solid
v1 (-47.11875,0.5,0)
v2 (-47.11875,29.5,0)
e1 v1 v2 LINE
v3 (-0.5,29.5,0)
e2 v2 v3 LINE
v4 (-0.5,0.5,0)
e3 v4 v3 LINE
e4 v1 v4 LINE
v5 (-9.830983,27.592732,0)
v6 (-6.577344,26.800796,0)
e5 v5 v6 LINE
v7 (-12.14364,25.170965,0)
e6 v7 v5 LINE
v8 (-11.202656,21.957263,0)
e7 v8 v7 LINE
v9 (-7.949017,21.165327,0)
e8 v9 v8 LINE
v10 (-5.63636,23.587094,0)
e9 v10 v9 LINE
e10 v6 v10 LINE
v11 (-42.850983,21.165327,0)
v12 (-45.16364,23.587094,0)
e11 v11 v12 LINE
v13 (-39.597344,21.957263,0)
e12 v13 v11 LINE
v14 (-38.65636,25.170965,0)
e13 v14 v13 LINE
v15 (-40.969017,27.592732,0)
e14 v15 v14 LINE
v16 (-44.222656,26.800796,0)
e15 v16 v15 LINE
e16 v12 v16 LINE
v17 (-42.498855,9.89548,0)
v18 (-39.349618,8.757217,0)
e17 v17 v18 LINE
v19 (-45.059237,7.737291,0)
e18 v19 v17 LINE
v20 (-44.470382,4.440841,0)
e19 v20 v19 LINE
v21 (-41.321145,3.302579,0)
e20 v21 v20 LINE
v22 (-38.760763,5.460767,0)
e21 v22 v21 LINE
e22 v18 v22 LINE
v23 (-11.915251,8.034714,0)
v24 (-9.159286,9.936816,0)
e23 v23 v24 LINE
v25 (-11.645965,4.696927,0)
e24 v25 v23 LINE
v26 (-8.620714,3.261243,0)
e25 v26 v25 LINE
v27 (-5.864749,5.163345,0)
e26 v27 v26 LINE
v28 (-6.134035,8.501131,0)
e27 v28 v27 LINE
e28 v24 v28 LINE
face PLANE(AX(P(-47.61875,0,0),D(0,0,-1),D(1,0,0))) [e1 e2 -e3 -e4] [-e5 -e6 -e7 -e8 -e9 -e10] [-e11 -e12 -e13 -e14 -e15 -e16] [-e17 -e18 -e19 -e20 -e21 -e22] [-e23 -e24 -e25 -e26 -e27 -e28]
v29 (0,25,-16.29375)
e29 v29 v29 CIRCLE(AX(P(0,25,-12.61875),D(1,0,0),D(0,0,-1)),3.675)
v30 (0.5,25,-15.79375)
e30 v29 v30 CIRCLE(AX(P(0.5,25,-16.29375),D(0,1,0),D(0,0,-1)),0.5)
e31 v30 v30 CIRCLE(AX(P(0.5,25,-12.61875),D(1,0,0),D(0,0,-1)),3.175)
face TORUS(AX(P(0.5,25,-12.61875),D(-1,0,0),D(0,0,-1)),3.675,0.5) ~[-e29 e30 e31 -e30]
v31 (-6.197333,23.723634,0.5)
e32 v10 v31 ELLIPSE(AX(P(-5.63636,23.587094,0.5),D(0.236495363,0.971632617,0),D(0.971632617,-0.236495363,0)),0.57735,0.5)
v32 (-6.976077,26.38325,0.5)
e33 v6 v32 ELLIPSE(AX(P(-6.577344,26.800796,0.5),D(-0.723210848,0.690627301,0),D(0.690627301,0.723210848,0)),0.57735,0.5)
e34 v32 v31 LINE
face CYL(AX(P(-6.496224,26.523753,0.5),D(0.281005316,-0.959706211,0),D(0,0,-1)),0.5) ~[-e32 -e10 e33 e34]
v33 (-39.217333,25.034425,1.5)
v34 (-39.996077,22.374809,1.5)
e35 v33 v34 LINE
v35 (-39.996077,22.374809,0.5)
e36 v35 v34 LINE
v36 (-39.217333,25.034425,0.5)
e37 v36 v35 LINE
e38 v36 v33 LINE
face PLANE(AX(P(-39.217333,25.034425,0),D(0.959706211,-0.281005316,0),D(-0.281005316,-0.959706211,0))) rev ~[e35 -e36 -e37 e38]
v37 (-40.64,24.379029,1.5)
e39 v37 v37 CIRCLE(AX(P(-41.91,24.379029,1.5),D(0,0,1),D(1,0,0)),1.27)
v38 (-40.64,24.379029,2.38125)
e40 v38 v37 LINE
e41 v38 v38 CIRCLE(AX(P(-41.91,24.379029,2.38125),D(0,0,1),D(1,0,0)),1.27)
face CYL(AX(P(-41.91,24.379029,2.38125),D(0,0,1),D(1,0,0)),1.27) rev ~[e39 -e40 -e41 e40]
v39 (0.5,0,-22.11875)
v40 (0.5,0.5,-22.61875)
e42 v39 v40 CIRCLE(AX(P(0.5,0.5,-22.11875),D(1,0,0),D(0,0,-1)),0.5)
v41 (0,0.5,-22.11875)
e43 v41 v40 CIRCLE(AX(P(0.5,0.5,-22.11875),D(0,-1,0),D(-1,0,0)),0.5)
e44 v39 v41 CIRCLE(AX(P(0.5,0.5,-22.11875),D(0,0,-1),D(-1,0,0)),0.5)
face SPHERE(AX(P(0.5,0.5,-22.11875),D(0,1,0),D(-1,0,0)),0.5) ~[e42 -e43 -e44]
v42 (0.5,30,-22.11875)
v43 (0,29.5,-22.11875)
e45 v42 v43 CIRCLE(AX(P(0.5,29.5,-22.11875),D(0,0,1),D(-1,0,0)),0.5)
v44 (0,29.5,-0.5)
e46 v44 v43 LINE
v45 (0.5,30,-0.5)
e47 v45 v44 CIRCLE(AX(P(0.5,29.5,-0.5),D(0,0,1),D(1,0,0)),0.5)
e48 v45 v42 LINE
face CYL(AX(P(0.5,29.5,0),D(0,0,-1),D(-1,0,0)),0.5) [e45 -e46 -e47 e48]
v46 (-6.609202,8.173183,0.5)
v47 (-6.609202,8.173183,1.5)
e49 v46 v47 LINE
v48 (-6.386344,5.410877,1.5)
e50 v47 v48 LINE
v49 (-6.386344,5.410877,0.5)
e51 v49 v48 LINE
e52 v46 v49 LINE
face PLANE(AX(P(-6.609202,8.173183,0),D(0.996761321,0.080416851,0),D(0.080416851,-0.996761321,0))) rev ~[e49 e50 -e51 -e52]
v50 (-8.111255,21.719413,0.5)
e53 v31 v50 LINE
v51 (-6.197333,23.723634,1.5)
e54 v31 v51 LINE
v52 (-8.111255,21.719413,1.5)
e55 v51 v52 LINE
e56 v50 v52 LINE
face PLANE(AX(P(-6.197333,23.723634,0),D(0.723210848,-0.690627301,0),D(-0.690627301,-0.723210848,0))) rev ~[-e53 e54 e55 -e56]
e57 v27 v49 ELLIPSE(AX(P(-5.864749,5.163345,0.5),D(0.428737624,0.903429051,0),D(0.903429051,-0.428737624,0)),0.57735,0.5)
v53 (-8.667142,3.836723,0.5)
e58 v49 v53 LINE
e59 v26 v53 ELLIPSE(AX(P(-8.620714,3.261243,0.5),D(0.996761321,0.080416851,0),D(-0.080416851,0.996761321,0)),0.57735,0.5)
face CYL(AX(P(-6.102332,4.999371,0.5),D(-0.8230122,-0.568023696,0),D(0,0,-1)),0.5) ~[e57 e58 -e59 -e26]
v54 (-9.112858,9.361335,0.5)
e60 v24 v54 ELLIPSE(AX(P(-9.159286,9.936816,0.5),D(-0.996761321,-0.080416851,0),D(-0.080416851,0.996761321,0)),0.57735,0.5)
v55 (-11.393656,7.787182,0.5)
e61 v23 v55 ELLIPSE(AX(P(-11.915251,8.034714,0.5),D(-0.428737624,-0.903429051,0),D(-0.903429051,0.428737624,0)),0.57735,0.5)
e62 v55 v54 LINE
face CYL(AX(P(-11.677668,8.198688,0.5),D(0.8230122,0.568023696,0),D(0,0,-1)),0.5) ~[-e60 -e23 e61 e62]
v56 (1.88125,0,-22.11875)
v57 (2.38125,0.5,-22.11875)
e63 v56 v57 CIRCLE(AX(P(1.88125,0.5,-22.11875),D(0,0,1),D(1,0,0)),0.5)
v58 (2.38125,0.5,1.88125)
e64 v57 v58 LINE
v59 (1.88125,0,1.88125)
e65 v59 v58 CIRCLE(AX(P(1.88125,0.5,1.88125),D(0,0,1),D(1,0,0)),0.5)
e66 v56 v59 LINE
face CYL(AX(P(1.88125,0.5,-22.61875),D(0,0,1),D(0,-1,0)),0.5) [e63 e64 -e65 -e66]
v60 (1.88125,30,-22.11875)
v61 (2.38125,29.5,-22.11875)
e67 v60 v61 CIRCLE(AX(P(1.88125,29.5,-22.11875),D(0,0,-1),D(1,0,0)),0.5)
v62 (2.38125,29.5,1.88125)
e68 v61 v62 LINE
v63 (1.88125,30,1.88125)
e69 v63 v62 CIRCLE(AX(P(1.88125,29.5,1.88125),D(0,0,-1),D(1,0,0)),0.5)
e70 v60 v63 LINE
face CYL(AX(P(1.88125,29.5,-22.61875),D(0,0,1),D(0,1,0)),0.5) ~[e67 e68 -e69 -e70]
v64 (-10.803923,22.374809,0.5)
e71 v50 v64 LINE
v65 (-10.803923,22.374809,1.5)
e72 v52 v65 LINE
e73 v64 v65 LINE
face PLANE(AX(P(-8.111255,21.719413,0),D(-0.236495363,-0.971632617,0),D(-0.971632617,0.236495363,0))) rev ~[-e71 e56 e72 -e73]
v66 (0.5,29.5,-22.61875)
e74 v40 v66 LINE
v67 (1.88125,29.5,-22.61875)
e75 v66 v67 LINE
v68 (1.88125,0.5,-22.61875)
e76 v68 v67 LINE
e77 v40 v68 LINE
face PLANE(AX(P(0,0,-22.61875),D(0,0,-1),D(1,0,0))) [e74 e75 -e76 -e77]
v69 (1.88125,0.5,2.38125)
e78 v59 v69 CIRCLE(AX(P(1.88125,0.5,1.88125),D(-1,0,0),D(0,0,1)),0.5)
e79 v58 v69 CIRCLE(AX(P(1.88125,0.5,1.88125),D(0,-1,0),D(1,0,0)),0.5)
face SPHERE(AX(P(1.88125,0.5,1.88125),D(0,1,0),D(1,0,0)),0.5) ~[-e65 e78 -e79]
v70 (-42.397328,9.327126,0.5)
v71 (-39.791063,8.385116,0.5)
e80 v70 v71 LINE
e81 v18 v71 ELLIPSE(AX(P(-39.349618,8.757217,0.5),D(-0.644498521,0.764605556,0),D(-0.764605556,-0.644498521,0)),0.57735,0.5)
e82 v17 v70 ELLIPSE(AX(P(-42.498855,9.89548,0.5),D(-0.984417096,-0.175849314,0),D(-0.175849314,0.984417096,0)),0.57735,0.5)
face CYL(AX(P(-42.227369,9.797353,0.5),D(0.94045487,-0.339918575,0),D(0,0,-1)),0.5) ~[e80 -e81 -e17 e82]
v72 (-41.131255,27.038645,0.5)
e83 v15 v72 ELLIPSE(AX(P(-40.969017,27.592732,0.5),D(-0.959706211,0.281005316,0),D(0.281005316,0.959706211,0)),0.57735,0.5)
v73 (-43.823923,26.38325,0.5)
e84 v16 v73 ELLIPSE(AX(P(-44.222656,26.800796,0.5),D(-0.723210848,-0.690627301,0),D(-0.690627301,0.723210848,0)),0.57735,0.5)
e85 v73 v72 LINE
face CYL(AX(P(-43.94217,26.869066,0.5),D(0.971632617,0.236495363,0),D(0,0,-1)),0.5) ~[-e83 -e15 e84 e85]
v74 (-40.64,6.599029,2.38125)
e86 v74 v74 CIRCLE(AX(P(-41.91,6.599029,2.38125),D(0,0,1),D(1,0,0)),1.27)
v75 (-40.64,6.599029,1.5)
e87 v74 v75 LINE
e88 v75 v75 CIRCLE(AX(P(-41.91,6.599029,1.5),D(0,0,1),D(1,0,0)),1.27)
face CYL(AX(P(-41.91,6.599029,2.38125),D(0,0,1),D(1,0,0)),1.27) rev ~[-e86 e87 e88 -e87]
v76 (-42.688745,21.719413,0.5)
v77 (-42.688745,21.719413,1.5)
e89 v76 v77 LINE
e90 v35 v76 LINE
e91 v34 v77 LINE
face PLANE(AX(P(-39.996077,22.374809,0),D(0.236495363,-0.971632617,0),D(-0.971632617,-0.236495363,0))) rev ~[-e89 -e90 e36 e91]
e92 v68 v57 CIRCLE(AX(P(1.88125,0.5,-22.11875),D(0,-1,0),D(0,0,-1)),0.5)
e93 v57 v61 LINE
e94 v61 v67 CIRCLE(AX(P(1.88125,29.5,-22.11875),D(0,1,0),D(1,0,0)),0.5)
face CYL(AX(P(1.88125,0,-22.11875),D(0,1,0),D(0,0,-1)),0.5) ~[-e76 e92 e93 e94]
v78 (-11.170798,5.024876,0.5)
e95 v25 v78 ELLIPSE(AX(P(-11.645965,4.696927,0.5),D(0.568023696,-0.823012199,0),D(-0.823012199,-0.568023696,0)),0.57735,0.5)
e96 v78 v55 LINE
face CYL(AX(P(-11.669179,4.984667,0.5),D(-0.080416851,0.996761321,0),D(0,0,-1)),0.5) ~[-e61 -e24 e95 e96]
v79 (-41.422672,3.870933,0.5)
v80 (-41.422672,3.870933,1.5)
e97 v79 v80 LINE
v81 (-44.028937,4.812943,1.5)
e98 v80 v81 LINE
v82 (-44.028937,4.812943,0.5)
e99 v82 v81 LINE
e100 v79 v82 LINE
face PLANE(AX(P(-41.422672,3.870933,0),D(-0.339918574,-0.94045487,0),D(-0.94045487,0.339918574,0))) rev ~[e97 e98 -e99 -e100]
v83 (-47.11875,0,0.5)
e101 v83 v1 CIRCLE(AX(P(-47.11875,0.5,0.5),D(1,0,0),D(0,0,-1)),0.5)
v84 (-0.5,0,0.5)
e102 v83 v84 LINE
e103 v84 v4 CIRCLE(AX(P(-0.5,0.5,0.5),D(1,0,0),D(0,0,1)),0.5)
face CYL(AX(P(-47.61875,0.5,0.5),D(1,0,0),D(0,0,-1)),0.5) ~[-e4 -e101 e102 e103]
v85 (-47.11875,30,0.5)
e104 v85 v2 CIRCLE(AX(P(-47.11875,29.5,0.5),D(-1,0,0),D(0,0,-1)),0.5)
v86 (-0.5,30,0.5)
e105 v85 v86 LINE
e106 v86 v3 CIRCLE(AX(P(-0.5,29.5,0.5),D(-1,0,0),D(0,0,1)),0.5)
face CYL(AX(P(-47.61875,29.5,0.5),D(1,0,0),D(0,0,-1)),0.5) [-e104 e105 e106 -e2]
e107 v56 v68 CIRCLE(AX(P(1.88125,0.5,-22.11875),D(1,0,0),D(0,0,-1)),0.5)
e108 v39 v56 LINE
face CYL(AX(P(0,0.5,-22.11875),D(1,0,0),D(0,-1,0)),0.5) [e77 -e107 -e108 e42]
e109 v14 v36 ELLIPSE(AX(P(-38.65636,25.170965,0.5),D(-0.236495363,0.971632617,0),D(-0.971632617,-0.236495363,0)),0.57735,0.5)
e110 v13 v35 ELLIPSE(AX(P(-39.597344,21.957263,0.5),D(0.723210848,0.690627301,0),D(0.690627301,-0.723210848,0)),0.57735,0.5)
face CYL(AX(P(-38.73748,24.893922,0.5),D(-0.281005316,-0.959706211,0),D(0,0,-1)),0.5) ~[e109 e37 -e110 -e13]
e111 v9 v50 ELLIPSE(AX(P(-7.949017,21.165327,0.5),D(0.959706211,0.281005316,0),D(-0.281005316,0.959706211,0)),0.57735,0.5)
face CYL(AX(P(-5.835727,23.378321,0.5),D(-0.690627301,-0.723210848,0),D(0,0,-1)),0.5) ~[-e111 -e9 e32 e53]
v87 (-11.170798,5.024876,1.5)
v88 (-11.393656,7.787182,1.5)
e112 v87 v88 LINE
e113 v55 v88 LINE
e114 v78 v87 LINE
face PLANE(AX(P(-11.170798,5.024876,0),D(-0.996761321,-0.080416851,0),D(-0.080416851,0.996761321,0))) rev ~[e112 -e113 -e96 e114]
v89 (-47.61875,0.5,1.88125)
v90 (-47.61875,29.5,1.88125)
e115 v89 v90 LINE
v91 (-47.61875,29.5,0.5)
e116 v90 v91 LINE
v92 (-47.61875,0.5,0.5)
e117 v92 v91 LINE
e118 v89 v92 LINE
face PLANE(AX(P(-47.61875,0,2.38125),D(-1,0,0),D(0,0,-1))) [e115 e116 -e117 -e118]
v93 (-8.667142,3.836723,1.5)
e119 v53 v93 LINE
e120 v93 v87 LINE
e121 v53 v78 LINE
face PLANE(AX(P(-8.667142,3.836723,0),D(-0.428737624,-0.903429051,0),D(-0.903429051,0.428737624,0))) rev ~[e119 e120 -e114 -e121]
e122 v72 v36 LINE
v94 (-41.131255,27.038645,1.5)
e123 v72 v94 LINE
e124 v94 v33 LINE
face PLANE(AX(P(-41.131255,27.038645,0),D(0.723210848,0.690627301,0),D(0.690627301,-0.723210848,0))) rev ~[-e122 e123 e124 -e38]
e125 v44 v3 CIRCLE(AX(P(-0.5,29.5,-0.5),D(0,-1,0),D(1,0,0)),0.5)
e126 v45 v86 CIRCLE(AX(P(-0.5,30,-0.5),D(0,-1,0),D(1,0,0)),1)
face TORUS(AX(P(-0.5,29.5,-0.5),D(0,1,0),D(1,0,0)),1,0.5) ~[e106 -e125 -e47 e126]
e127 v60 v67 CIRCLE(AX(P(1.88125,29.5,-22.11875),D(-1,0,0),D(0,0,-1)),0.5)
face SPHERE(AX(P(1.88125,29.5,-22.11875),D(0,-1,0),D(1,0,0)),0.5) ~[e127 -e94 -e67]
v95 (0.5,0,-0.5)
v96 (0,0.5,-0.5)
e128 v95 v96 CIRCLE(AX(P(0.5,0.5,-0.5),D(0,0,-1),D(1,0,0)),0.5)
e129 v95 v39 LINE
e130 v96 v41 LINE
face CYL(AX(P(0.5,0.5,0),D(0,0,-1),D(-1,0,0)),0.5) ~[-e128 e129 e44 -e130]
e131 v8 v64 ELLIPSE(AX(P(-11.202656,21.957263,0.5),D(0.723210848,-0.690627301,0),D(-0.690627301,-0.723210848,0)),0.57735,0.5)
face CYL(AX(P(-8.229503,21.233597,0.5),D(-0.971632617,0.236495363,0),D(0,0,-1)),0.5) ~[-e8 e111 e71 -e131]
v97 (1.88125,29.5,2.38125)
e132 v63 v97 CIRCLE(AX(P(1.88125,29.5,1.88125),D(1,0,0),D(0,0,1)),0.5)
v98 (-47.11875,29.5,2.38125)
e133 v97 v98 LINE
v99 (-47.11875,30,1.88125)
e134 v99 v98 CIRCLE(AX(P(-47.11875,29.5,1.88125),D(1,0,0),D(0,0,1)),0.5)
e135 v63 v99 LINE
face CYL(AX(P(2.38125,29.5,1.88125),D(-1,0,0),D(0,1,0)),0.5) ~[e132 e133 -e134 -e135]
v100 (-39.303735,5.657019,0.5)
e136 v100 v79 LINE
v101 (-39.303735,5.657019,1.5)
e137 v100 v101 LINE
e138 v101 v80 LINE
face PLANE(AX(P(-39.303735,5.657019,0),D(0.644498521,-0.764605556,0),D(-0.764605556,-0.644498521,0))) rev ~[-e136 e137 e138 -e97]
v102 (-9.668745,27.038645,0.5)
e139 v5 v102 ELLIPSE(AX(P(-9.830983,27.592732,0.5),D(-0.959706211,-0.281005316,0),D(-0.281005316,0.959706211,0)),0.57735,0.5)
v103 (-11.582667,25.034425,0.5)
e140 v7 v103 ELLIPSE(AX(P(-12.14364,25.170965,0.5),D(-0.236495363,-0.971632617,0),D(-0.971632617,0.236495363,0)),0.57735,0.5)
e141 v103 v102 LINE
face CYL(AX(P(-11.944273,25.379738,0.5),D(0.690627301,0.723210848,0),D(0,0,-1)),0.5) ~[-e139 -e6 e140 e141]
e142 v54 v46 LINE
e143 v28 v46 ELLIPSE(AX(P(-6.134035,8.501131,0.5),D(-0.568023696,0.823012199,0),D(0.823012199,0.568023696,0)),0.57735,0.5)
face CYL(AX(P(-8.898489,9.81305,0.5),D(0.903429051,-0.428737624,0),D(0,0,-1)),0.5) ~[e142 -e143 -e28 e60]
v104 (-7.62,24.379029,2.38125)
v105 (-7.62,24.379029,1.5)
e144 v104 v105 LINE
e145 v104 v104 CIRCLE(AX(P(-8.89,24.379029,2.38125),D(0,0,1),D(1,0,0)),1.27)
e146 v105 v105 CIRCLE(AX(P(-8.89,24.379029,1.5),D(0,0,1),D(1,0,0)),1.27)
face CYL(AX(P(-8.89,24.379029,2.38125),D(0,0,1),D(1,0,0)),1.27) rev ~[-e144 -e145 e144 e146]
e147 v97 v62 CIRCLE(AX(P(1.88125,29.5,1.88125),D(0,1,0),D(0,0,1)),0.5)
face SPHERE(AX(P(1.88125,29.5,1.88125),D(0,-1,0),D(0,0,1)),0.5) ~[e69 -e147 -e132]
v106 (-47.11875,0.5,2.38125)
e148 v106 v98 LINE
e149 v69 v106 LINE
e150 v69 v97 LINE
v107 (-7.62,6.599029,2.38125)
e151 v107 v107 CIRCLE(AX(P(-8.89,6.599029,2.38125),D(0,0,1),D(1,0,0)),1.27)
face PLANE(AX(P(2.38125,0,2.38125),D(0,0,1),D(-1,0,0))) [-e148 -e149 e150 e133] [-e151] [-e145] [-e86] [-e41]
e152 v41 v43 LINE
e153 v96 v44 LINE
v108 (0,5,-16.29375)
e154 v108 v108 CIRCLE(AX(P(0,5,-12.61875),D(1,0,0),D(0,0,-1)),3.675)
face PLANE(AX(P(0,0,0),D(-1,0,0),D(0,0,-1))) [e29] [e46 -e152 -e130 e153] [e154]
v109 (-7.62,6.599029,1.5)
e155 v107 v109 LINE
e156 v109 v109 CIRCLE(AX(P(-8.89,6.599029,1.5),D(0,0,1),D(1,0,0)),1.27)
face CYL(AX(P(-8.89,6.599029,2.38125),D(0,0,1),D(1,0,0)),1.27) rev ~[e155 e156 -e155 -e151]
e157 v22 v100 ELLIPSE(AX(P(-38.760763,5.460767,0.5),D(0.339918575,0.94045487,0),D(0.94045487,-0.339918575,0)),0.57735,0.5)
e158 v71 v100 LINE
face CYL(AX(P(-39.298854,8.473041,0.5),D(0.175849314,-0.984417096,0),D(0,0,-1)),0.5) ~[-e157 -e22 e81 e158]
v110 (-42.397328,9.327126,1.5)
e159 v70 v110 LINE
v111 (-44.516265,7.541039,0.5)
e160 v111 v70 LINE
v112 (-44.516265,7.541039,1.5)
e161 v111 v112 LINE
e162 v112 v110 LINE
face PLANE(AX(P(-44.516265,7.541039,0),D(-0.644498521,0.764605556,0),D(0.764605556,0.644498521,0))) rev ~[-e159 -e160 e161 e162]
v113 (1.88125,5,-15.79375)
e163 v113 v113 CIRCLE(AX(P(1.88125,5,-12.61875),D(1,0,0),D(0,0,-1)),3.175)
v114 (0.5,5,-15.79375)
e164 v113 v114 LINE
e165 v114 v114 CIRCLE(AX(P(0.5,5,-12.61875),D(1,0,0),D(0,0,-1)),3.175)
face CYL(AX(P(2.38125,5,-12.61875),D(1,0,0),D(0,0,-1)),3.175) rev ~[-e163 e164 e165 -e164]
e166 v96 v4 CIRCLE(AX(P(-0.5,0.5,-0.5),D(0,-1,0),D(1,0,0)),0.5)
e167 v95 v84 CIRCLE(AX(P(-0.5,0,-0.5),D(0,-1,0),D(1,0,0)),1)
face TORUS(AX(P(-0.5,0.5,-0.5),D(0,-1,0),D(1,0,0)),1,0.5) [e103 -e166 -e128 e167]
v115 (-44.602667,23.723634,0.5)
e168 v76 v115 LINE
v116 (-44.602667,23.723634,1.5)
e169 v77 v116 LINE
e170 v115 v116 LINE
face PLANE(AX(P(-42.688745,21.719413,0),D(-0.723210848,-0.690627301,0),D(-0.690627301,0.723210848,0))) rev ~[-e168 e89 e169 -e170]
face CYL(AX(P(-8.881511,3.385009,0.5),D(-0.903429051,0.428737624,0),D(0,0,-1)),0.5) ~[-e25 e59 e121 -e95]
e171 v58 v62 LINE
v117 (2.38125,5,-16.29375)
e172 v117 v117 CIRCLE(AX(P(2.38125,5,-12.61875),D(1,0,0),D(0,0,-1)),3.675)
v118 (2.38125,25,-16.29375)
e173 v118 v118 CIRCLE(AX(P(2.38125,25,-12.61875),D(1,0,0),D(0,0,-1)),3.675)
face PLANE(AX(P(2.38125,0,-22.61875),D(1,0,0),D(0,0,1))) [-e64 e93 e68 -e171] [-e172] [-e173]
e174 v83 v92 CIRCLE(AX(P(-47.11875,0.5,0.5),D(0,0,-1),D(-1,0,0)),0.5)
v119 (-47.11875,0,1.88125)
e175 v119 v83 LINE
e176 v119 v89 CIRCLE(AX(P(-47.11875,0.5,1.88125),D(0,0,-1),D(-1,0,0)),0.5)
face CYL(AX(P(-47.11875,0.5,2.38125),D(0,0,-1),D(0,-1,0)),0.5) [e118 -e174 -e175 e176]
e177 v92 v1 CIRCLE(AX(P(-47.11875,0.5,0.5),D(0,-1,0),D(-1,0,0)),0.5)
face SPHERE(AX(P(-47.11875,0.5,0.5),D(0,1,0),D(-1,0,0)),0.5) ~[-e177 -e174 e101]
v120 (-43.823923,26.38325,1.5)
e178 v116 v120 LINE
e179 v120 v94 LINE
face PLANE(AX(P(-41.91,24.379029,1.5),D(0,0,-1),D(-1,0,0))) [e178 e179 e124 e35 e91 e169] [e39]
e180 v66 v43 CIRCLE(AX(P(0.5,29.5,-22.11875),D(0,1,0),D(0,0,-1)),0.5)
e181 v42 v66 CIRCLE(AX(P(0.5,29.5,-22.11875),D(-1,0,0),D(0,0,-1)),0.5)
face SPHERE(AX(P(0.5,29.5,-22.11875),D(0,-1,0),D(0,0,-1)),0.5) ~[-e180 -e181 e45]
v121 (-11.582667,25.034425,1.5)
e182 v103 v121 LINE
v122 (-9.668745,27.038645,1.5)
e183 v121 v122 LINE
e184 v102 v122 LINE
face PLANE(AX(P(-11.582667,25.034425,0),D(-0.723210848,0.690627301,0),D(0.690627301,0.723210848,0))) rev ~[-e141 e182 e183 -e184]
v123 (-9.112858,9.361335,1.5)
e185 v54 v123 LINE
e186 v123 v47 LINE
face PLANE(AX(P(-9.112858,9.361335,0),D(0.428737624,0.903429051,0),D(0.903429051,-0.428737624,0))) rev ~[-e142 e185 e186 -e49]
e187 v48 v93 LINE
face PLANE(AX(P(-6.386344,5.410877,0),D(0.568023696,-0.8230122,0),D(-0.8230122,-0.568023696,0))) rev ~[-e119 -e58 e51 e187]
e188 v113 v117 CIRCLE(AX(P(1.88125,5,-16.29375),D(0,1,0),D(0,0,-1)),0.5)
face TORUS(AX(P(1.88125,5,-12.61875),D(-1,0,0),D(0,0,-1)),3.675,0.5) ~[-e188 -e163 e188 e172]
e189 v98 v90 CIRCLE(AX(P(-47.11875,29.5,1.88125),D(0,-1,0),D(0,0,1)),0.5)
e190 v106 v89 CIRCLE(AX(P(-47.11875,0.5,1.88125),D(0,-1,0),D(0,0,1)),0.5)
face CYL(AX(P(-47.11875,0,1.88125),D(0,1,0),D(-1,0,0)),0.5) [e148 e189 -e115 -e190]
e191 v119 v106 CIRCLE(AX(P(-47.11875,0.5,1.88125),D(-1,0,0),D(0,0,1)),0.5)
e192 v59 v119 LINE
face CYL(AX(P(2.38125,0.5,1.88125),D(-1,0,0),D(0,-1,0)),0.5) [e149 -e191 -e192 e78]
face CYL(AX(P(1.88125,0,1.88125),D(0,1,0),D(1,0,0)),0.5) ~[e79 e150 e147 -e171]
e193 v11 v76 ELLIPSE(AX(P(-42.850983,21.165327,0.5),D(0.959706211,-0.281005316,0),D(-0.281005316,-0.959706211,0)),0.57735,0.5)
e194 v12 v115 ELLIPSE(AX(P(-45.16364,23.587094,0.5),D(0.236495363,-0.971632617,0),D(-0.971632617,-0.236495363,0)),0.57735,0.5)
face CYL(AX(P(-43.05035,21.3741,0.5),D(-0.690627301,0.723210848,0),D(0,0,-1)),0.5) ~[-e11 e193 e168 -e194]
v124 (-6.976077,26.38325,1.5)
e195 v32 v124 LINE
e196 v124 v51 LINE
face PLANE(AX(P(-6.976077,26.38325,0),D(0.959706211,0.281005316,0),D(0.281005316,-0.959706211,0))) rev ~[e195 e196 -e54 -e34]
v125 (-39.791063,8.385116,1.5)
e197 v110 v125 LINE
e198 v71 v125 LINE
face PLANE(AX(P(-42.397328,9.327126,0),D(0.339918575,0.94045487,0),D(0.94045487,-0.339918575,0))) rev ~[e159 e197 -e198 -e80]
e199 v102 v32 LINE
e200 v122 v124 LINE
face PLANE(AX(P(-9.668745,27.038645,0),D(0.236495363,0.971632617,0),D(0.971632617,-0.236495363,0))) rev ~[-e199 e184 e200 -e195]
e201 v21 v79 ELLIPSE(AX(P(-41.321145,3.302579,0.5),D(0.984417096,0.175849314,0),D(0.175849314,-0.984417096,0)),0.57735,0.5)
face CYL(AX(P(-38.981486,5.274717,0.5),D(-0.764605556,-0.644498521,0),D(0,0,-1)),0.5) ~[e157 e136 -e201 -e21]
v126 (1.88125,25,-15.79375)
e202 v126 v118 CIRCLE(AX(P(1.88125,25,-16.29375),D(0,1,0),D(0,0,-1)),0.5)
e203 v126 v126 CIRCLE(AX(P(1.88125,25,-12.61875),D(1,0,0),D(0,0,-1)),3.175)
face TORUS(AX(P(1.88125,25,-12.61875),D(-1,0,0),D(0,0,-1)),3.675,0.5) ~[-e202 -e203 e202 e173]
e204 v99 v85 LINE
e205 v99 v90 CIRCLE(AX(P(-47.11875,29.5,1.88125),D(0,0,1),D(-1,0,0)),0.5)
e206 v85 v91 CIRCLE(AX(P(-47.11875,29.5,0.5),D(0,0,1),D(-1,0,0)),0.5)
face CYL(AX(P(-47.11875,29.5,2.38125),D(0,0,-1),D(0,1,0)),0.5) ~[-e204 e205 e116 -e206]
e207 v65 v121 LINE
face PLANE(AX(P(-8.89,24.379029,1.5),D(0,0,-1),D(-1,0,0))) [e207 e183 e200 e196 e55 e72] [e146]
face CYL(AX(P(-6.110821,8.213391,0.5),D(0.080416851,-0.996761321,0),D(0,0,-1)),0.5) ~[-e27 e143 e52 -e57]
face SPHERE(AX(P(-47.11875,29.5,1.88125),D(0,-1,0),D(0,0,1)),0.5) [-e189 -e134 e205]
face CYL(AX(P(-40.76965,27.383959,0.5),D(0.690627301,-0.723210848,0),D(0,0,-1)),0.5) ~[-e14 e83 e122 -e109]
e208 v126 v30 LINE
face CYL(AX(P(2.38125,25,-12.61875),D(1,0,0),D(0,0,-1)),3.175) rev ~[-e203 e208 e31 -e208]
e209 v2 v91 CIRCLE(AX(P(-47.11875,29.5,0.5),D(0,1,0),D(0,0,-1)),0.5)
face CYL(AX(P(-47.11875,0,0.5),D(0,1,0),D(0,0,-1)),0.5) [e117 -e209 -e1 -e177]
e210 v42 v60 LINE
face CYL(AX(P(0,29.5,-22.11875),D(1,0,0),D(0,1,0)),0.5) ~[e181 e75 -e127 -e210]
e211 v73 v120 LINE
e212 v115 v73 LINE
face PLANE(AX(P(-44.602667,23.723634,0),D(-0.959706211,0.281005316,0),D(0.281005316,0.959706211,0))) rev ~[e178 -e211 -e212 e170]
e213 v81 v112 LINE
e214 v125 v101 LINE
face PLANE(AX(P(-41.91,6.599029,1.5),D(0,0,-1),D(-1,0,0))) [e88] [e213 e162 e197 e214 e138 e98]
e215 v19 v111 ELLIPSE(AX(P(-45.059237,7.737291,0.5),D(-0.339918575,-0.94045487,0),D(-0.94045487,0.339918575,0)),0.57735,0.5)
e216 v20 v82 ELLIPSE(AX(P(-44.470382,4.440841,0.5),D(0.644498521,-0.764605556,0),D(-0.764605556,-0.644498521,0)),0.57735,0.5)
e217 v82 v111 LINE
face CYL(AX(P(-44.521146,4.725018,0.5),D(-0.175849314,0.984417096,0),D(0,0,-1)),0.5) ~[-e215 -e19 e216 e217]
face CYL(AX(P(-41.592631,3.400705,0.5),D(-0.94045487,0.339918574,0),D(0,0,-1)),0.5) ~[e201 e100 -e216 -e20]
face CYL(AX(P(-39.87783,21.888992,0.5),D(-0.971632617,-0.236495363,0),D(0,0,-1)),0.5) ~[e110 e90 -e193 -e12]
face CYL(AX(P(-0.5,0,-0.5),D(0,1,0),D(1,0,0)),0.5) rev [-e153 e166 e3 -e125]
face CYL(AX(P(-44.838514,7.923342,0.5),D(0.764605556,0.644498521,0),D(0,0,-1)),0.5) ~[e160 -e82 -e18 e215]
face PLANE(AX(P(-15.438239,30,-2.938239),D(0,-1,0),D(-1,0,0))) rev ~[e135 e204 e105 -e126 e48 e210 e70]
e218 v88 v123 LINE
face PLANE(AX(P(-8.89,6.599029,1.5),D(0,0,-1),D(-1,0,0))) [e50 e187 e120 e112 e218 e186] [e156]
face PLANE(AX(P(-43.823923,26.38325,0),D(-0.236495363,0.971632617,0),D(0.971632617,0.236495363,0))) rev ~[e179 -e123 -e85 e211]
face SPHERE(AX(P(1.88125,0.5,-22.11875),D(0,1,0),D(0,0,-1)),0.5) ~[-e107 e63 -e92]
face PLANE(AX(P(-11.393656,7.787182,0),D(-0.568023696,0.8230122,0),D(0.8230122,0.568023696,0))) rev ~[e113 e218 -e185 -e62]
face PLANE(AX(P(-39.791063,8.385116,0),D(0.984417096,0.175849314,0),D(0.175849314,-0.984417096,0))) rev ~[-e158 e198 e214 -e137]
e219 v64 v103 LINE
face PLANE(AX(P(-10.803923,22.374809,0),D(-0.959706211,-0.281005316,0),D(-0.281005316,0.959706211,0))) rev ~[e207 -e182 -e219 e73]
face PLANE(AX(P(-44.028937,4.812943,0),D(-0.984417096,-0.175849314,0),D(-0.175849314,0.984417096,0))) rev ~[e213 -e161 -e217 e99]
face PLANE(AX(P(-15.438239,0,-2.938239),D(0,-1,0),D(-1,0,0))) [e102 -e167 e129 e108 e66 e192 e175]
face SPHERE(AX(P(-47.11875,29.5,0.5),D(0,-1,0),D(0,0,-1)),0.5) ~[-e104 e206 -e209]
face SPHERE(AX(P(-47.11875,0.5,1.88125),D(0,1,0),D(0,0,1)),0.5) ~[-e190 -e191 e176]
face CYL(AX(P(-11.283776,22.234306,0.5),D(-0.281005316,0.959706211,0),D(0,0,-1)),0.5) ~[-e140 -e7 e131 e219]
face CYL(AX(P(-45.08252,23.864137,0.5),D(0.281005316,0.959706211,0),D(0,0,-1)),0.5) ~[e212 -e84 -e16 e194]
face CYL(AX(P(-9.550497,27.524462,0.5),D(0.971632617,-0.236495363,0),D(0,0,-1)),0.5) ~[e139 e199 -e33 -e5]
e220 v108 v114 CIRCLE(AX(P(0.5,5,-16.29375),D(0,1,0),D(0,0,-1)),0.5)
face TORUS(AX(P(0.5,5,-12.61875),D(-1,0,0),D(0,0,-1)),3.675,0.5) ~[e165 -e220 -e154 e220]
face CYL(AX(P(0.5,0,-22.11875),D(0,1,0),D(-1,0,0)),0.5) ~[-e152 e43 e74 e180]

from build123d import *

# Parameters (mm, degrees)
BOSS_EXTRUDE1_DEPTH = 30
SKETCH2_R           = 1.27
CUT_EXTRUDE1_DEPTH  = 62.583645163
SKETCH3_R           = 3.175
CUT_EXTRUDE2_DEPTH  = 63.542848125
FILLET1_R           = 0.5
CUT_EXTRUDE3_DEPTH  = 1.5
FILLET2_R           = 0.5


with BuildPart() as part:
    # Sketch1 → Boss-Extrude1 (new body)
    with BuildSketch(Plane(origin=(0, 0, 0), x_dir=(1, 0, 0), z_dir=(0, 1, 0))):
        Polygon((0, 0), (0, 22.61875), (2.38125, 22.61875), (2.38125, -2.38125), (-47.61875, -2.38125), (-47.61875, 0), align=None)
    extrude(amount=BOSS_EXTRUDE1_DEPTH)

    # Sketch2 → Cut-Extrude1 (cut, through all)
    with BuildSketch(Plane.XY.offset(2.38125)):
        with Locations((-41.91, 6.599029345)):
            Circle(SKETCH2_R)
        with Locations((-8.89, 6.599029345)):
            Circle(SKETCH2_R)
        with Locations((-8.89, 24.379029345)):
            Circle(SKETCH2_R)
        with Locations((-41.91, 24.379029345)):
            Circle(SKETCH2_R)
    extrude(amount=-CUT_EXTRUDE1_DEPTH, mode=Mode.SUBTRACT)

    # Sketch3 → Cut-Extrude2 (cut, through all)
    with BuildSketch(Plane(origin=(2.38125, 0, 0), x_dir=(0, 0, -1), z_dir=(1, 0, 0))):
        with Locations((12.61875, 25)):
            Circle(SKETCH3_R)
        with Locations((12.61875, 5)):
            Circle(SKETCH3_R)
    extrude(amount=-CUT_EXTRUDE2_DEPTH, mode=Mode.SUBTRACT)

    # Fillet1
    fillet1_edges = [part.edges().sort_by_distance(p)[0] for p in [
        (0, 15, 0),
        (0, 15, -22.61875),
        (2.38125, 15, -22.61875),
        (2.38125, 15, 2.38125),
        (-47.61875, 15, 2.38125),
        (-47.61875, 15, 0),
        (-22.61875, 30, 2.38125),
        (2.38125, 30, -10.11875),
        (1.190625, 30, -22.61875),
        (-43.18, 24.379029345, 0),
        (0, 30, -11.309375),
        (-10.16, 24.379029345, 0),
        (-10.16, 6.599029345, 0),
        (-43.18, 6.599029345, 0),
        (0, 25, -9.44375),
        (2.38125, 25, -9.44375),
        (0, 5, -9.44375),
        (2.38125, 5, -9.44375),
        (-23.809375, 30, 0),
        (0, 0, -11.309375),
        (1.190625, 0, -22.61875),
        (2.38125, 0, -10.11875),
        (-22.61875, 0, 2.38125),
        (-47.61875, 0, 1.190625),
        (-23.809375, 0, 0),
        (-47.61875, 30, 1.190625),
    ]]
    fillet(fillet1_edges, radius=FILLET1_R)

    # Sketch5 → Cut-Extrude3 (cut)
    with BuildSketch(Plane(origin=(0, 0, 0), x_dir=(-1, 0, 0), z_dir=(0, 0, -1))):
        Polygon((10.803922519, 22.374808651), (11.582667295, 25.03442452), (9.668744776, 27.038645215), (6.976077481, 26.383250039), (6.197332705, 23.72363417), (8.111255224, 21.719413476), align=None)
        Polygon((11.170798312, 5.024875902), (11.393656027, 7.787181903), (9.112857715, 9.361335345), (6.609201688, 8.173182788), (6.386343973, 5.410876787), (8.667142285, 3.836723345), align=None)
        Polygon((39.303735012, 5.657019359), (41.422672085, 3.870932664), (44.028937073, 4.81294265), (44.516264988, 7.541039332), (42.397327915, 9.327126027), (39.791062927, 8.38511604), align=None)
        Polygon((39.996077481, 22.374808651), (42.688744776, 21.719413476), (44.602667295, 23.72363417), (43.823922519, 26.383250039), (41.131255224, 27.038645215), (39.217332705, 25.03442452), align=None)
    extrude(amount=-CUT_EXTRUDE3_DEPTH, mode=Mode.SUBTRACT)

    # Fillet2
    fillet2_edges = [part.edges().sort_by_distance(p)[0] for p in [
        (-39.606705093, 23.704616586, 0),
        (-41.342411129, 22.047111063, 0),
        (-43.645706036, 22.721523823, 0),
        (-44.213294907, 25.053442104, 0),
        (-42.477588871, 26.710947627, 0),
        (-40.174293964, 26.036534868, 0),
        (-39.54739897, 7.021067699, 0),
        (-40.363203549, 4.763976011, 0),
        (-42.725804579, 4.341937657, 0),
        (-44.27260103, 6.176990991, 0),
        (-43.456796451, 8.434082679, 0),
        (-41.094195421, 8.856121033, 0),
        (-9.918970299, 4.430799624, 0),
        (-11.282227169, 6.406028903, 0),
        (-10.253256871, 8.574258624, 0),
        (-7.861029701, 8.767259066, 0),
        (-6.497772831, 6.792029788, 0),
        (-7.526743129, 4.623800066, 0),
        (-9.457588871, 22.047111063, 0),
        (-11.193294907, 23.704616586, 0),
        (-10.625706036, 26.036534868, 0),
        (-8.322411129, 26.710947627, 0),
        (-6.586705093, 25.053442104, 0),
        (-7.154293964, 22.721523823, 0),
    ]]
    fillet(fillet2_edges, radius=FILLET2_R)


solid = part.part
